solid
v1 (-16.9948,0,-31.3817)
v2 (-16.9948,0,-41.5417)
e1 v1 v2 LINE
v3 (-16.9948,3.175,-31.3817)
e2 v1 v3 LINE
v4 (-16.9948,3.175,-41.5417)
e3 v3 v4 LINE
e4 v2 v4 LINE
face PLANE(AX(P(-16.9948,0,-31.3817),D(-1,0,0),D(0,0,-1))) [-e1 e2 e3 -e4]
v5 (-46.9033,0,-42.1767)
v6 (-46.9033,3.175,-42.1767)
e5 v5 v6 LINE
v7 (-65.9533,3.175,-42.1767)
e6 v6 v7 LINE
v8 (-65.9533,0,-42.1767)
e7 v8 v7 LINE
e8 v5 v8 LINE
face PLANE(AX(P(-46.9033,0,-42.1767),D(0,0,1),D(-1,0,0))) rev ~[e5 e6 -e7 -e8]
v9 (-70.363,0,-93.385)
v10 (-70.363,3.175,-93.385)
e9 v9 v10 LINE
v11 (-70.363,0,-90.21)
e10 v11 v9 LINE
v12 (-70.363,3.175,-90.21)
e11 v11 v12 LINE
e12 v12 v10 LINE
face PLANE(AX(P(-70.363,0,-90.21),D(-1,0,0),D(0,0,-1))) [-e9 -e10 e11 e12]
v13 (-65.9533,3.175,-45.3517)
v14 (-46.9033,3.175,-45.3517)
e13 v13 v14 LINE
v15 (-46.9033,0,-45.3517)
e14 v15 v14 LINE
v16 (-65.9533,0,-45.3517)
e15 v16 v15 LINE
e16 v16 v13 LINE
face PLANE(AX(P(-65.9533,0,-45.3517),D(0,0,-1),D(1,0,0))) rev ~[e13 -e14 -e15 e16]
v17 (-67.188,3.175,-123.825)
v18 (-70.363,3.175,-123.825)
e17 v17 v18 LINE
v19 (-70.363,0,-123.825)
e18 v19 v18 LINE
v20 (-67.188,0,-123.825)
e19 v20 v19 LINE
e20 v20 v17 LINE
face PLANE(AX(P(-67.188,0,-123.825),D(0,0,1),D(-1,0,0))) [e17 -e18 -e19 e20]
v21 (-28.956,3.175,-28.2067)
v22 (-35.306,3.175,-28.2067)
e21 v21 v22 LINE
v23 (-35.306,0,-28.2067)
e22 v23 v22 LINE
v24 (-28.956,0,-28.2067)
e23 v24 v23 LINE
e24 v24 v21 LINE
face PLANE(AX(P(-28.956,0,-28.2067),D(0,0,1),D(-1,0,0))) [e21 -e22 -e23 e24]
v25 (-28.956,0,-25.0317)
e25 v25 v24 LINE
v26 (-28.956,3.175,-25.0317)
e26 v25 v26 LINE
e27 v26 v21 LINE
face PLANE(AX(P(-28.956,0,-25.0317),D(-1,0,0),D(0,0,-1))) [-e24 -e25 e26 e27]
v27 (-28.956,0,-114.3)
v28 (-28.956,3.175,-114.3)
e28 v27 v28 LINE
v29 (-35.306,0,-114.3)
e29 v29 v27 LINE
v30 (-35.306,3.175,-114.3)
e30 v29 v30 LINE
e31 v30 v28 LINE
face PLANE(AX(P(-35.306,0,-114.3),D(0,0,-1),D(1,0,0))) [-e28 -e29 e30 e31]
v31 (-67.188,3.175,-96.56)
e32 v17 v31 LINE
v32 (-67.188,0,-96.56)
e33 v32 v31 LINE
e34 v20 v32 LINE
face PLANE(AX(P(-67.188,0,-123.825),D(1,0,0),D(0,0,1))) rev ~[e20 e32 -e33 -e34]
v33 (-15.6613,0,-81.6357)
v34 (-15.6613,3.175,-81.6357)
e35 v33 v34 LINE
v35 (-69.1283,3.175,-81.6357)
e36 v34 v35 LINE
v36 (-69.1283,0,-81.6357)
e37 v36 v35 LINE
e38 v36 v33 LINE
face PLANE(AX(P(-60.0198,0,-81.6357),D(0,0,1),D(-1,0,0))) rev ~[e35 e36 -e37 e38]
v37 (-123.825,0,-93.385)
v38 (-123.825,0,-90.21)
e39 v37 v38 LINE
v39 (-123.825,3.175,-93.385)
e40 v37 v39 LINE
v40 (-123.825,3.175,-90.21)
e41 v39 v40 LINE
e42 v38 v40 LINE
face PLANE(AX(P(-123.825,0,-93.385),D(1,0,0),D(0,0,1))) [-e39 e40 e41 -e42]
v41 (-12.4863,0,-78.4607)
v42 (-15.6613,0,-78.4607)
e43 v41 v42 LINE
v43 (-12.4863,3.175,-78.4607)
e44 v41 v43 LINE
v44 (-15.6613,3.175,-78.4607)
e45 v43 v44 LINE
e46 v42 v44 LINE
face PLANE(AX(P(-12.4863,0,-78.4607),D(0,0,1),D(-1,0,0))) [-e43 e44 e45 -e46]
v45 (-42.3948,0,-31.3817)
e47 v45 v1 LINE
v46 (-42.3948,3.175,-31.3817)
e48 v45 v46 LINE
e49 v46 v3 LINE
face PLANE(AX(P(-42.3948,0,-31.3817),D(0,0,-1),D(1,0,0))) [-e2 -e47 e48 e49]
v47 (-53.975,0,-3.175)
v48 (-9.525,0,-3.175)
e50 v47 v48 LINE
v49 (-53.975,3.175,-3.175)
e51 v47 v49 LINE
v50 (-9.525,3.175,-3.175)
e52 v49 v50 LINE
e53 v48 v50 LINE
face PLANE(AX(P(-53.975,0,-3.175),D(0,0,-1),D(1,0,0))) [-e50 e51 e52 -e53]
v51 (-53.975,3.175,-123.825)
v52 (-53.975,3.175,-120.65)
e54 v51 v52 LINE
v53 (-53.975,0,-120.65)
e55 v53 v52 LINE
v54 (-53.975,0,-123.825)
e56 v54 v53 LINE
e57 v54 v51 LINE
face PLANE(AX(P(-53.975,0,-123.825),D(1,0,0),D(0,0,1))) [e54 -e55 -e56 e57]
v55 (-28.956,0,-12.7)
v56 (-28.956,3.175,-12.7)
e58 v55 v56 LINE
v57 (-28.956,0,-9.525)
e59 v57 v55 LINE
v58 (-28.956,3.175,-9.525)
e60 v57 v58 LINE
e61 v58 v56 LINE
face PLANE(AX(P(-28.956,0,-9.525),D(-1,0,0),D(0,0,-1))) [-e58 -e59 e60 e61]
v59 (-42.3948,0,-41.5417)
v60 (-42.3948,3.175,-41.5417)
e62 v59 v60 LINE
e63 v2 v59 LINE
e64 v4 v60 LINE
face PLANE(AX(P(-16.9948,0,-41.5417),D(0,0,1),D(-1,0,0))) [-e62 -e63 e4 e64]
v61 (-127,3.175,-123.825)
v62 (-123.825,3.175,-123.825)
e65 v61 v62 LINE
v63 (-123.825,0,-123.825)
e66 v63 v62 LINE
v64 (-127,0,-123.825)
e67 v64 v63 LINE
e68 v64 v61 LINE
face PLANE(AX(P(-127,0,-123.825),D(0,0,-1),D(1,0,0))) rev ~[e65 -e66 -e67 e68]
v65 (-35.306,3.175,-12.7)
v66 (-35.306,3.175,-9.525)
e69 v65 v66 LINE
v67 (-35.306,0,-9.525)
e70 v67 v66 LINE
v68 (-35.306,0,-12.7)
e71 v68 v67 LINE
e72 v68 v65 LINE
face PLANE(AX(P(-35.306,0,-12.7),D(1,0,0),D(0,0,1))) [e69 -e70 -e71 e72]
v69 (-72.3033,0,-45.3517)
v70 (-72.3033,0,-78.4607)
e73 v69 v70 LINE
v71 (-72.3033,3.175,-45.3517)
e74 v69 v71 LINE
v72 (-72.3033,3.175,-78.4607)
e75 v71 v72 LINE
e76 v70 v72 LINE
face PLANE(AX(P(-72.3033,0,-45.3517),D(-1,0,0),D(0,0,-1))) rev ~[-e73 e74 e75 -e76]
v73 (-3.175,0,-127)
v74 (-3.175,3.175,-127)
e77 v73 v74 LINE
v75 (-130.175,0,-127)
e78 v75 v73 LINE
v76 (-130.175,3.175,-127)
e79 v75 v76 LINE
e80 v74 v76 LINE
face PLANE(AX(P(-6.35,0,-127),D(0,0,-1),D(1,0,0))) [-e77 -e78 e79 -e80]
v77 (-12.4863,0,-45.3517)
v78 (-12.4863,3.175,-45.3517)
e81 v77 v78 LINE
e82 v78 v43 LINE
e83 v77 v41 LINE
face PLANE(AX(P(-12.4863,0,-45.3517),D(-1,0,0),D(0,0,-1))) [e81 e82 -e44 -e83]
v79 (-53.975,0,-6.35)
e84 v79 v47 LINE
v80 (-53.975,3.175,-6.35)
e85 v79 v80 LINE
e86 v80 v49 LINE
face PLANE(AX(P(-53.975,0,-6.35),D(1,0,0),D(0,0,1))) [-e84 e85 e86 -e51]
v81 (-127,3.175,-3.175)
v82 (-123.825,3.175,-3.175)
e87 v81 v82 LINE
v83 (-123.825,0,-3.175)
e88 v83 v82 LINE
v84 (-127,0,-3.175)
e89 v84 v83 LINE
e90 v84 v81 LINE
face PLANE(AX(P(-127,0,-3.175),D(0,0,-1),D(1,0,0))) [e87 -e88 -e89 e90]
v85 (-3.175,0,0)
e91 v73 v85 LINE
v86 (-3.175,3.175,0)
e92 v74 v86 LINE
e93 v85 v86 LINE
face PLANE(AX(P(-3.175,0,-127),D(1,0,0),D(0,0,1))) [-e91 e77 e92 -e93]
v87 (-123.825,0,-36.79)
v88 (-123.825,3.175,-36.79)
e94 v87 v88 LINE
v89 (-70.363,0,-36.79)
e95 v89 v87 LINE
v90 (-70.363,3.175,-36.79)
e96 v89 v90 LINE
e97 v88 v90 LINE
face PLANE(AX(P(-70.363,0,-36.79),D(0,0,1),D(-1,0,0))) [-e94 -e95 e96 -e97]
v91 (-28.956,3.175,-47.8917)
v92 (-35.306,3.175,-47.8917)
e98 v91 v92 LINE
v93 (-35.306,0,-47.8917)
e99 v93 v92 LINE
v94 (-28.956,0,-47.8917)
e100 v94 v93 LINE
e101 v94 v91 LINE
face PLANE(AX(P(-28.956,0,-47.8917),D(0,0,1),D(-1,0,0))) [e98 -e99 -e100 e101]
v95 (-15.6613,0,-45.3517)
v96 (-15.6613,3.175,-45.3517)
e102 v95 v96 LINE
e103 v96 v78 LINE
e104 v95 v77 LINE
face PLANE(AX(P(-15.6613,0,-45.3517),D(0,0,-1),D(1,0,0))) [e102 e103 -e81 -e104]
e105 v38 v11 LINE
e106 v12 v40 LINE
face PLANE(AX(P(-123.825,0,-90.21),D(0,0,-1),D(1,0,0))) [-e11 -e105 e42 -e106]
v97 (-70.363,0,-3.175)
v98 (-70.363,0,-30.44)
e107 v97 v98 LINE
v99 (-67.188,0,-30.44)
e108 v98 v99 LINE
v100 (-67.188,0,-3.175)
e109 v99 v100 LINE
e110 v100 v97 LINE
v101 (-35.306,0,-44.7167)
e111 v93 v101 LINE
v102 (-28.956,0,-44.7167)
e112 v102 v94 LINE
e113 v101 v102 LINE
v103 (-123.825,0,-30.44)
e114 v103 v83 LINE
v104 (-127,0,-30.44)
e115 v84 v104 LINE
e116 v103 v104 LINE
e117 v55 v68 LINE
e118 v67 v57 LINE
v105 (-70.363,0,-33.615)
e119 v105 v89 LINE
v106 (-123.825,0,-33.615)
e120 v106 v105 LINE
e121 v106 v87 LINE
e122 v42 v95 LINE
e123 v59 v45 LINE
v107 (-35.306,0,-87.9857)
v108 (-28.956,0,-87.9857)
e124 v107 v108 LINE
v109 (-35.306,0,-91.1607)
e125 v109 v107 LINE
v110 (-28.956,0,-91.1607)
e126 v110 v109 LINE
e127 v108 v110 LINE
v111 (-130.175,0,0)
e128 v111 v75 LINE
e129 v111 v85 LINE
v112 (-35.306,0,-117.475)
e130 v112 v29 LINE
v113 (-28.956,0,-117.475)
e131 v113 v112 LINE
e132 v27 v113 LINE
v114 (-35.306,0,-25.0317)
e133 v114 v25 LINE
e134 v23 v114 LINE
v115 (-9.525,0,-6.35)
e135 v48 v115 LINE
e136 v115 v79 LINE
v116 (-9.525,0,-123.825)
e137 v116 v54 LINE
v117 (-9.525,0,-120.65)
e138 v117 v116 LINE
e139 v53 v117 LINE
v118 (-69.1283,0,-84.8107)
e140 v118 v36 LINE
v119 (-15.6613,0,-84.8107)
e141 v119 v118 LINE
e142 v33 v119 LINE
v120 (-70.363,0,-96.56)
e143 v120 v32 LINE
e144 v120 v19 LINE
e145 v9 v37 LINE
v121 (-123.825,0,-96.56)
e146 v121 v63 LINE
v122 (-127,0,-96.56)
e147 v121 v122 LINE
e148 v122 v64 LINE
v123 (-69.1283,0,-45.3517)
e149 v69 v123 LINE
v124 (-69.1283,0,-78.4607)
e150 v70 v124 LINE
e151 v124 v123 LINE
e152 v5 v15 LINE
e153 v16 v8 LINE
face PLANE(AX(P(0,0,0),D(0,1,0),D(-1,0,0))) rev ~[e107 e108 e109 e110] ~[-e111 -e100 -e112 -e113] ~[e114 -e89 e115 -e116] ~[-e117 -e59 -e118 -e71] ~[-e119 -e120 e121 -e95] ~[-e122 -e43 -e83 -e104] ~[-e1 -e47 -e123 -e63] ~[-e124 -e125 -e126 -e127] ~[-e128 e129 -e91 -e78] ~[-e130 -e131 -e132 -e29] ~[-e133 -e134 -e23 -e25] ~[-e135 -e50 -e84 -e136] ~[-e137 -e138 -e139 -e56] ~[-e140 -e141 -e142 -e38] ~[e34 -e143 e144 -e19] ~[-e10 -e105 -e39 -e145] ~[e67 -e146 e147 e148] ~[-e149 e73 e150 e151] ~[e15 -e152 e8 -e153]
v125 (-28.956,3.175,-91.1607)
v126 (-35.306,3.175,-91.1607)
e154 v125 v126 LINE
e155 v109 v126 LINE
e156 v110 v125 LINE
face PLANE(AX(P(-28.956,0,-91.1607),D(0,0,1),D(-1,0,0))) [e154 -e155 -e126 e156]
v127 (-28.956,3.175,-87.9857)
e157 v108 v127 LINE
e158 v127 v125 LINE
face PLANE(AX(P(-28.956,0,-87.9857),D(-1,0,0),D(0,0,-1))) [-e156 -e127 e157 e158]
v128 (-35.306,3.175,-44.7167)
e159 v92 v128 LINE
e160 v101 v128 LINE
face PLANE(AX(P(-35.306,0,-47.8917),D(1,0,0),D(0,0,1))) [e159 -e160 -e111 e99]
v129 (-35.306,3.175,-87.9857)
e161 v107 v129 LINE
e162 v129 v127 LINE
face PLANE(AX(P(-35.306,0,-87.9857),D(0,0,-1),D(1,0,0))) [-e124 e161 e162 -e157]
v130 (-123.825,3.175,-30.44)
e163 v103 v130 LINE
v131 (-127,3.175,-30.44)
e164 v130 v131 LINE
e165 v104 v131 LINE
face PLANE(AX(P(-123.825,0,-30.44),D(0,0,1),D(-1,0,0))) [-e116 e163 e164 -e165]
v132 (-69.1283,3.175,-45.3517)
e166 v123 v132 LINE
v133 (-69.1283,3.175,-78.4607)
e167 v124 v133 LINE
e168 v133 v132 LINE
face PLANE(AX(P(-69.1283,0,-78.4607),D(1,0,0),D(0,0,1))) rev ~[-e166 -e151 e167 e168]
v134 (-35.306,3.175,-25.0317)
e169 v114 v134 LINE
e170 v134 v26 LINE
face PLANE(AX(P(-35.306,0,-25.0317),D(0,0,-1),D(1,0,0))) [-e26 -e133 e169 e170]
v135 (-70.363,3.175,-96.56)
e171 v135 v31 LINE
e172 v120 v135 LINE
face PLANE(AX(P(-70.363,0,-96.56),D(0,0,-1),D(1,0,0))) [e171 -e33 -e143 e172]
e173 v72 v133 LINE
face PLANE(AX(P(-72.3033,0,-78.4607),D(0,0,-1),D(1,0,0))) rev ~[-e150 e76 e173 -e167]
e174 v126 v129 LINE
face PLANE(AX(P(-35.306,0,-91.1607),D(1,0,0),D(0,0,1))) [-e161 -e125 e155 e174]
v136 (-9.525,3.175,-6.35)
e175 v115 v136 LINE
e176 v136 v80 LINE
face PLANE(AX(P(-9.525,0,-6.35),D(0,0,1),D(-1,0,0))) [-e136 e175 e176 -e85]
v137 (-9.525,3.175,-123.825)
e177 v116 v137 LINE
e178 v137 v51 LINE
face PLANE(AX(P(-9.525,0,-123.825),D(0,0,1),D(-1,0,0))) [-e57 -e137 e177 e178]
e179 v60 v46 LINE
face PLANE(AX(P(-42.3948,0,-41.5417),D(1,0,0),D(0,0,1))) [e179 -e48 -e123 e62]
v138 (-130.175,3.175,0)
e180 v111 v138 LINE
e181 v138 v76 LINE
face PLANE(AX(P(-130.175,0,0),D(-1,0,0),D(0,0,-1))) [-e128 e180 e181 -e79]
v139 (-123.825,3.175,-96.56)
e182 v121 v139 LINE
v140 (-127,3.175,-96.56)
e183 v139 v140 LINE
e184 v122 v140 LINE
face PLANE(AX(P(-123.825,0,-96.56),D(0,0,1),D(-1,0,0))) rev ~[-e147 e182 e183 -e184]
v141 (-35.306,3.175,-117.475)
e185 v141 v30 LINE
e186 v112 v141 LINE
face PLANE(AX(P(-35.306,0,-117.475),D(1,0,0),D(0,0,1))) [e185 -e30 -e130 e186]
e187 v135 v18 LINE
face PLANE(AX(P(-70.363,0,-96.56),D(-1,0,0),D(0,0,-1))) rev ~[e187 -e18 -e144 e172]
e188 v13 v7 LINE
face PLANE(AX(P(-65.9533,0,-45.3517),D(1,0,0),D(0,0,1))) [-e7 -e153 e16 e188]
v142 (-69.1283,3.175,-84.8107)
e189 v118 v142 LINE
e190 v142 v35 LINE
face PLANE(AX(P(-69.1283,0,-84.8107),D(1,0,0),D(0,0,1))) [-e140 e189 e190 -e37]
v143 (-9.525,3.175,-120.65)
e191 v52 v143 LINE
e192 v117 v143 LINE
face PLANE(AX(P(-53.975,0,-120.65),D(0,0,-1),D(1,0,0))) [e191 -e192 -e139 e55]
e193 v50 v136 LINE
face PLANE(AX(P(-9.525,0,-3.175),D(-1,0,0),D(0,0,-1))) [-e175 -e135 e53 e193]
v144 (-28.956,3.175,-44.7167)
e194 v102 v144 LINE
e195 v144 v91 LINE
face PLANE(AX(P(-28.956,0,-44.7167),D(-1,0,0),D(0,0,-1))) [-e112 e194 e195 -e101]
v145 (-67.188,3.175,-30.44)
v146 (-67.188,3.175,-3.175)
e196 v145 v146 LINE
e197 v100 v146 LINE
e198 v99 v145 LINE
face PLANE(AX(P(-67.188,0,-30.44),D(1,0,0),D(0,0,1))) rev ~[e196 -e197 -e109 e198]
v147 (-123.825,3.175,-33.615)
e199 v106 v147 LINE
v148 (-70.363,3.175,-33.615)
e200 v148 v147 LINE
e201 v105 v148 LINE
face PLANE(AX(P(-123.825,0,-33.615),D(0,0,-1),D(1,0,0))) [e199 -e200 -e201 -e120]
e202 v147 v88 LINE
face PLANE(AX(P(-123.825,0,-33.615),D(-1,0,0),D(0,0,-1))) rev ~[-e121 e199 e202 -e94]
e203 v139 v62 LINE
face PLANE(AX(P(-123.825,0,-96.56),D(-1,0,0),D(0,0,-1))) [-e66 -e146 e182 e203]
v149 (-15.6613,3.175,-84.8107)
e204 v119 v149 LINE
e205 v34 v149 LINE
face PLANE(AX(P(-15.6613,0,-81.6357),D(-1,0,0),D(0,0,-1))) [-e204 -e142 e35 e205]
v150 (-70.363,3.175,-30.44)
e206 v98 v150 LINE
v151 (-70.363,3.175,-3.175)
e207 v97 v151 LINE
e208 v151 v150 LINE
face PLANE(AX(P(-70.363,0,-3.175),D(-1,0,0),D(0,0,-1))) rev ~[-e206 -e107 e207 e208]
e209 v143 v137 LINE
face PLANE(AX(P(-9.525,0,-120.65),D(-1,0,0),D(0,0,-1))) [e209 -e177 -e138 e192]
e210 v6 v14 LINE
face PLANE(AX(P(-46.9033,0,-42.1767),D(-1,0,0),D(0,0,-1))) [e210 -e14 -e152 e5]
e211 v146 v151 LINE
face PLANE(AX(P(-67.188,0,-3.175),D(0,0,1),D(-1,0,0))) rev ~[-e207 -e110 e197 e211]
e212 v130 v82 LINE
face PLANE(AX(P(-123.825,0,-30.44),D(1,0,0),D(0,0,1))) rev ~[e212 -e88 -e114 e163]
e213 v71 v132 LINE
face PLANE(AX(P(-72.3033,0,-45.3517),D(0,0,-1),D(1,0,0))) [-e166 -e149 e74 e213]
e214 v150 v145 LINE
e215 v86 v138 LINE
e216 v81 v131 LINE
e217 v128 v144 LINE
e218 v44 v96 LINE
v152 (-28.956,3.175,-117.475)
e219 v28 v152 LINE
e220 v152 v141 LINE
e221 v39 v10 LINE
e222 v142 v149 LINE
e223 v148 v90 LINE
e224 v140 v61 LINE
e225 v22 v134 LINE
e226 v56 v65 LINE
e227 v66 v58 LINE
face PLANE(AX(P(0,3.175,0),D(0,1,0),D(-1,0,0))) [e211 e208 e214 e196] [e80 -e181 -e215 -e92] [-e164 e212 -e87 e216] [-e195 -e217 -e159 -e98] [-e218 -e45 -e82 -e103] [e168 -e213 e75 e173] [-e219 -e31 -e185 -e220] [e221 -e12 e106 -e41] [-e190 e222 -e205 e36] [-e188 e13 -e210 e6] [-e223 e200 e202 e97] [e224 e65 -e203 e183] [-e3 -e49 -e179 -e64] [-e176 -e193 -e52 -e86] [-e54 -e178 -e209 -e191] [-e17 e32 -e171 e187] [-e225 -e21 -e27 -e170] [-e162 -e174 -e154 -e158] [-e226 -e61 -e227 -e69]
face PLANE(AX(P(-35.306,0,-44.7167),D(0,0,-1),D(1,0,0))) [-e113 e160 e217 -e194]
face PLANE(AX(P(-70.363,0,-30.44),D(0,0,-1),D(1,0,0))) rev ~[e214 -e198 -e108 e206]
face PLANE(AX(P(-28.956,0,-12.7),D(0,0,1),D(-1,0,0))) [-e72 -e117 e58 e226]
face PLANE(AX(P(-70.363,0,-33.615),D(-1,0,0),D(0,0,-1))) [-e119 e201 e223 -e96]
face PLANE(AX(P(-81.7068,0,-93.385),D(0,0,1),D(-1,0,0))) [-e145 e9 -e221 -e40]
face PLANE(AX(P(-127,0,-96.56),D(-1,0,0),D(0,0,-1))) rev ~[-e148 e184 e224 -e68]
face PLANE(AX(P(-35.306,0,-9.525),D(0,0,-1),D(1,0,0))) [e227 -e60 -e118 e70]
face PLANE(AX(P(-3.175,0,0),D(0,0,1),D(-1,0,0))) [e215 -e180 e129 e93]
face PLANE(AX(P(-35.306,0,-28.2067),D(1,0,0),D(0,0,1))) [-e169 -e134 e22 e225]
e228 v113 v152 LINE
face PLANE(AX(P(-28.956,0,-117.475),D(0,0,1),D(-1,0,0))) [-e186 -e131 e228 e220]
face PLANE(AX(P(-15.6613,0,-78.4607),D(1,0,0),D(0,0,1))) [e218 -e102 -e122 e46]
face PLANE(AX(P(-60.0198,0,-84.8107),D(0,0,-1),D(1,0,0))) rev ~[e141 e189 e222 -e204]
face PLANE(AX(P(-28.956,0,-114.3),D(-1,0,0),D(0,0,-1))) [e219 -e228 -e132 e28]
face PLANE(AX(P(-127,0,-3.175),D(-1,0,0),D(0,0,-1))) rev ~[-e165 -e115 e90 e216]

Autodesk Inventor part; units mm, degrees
ref_plane "YZ Plane" through (0, 0, 0) normal (1, 0, 0) x (0, 1, 0)
ref_plane "XZ Plane" through (0, 0, 0) normal (0, 1, 0) x (-1, 0, 0)
ref_plane "XY Plane" through (0, 0, 0) normal (0, 0, 1) x (1, 0, 0)
sketch "Sketch1" plane through (0, 0, 0) normal (0, 1, 0) x (-1, 0, 0)
  line L0 (0, 0) -> (127, 0)
  line L1 (127, 0) -> (127, -127)
  line L2 (127, -127) -> (0, -127)
  line L3 (0, -127) -> (0, 0)
  line L4 (123.825, 0) -> (127, 0)
  line L5 (127, 0) -> (127, -33.615)
  line L6 (127, -33.615) -> (123.825, -33.615)
  line L7 (123.825, -33.615) -> (123.825, 0)
  line L8 (123.825, -33.615) -> (70.363, -33.615)
  line L9 (70.363, -33.615) -> (70.363, -36.79)
  line L10 (70.363, -36.79) -> (127, -36.79)
  line L11 (70.363, -36.79) -> (67.188, -36.79)
  line L12 (67.188, -36.79) -> (67.188, 0)
  line L13 (67.188, 0) -> (70.363, 0)
  line L14 (70.363, 0) -> (70.363, -36.79)
  line L15 (69.1283, -45.3517) -> (43.7283, -45.3517)
  line L16 (43.7283, -45.3517) -> (43.7283, -42.1767)
  line L17 (43.7283, -42.1767) -> (69.1283, -42.1767)
  line L18 (69.1283, -42.1767) -> (69.1283, -45.3517)
  line L19 (69.1283, -42.1767) -> (72.3033, -42.1767)
  line L20 (72.3033, -42.1767) -> (72.3033, -84.8107)
  line L21 (72.3033, -84.8107) -> (69.1283, -84.8107)
  line L22 (69.1283, -84.8107) -> (69.1283, -42.1767)
  line L23 (69.1283, -84.8107) -> (12.4863, -84.8107)
  line L24 (12.4863, -84.8107) -> (12.4863, -81.6357)
  line L25 (12.4863, -81.6357) -> (69.1283, -81.6357)
  line L26 (69.1283, -81.6357) -> (69.1283, -84.8107)
  line L27 (12.4863, -81.6357) -> (15.6613, -81.6357)
  line L28 (15.6613, -81.6357) -> (15.6613, -42.1767)
  line L29 (15.6613, -42.1767) -> (12.4863, -42.1767)
  line L30 (12.4863, -42.1767) -> (12.4863, -81.6357)
  line L31 (127, -90.21) -> (67.188, -90.21)
  line L32 (67.188, -90.21) -> (67.188, -93.385)
  line L33 (67.188, -93.385) -> (127, -93.385)
  line L34 (127, -93.385) -> (127, -90.21)
  line L35 (127, -93.385) -> (123.825, -93.385)
  line L36 (123.825, -93.385) -> (123.825, -127)
  line L37 (123.825, -127) -> (127, -127)
  line L38 (127, -127) -> (127, -93.385)
  line L39 (25.4, 0) -> (6.35, 0)
  line L40 (25.4, -127) -> (6.35, -127)
  line L41 (67.188, -90.21) -> (70.363, -90.21)
  line L42 (70.363, -90.21) -> (70.363, -127)
  line L43 (70.363, -127) -> (67.188, -127)
  line L44 (67.188, -127) -> (67.188, -90.21)
  line L45 (67.188, -3.175) -> (70.363, -3.175)
  line L46 (70.363, -3.175) -> (70.363, -33.615)
  line L47 (70.363, -33.615) -> (67.188, -33.615)
  line L48 (67.188, -33.615) -> (67.188, -3.175)
  line L49 (73.538, -33.615) -> (123.825, -33.615)
  line L50 (123.825, -33.615) -> (123.825, -36.79)
  line L51 (123.825, -36.79) -> (73.538, -36.79)
  line L52 (127, -3.175) -> (123.825, -3.175)
  line L53 (123.825, -3.175) -> (123.825, -30.44)
  line L54 (123.825, -30.44) -> (127, -30.44)
  line L55 (127, -30.44) -> (127, -3.175)
  line L56 (123.825, -90.21) -> (81.7068, -90.21)
  line L57 (81.7068, -93.385) -> (123.825, -93.385)
  line L58 (123.825, -93.385) -> (123.825, -90.21)
  line L59 (123.825, -96.56) -> (127, -96.56)
  line L60 (127, -96.56) -> (127, -123.825)
  line L61 (127, -123.825) -> (123.825, -123.825)
  line L62 (123.825, -123.825) -> (123.825, -96.56)
  line L63 (70.363, -96.56) -> (67.188, -96.56)
  line L64 (67.188, -96.56) -> (67.188, -123.825)
  line L65 (67.188, -123.825) -> (70.363, -123.825)
  line L66 (70.363, -123.825) -> (70.363, -96.56)
  line L67 (70.363, -30.44) -> (67.188, -30.44)
  line L68 (72.3033, -45.3517) -> (69.1283, -45.3517)
  line L69 (69.1283, -45.3517) -> (69.1283, -81.6357)
  line L70 (69.1283, -81.6357) -> (72.3033, -81.6357)
  line L71 (72.3033, -81.6357) -> (72.3033, -45.3517)
  line L72 (65.9533, -42.1767) -> (46.9033, -42.1767)
  line L73 (46.9033, -42.1767) -> (46.9033, -45.3517)
  line L74 (46.9033, -45.3517) -> (65.9533, -45.3517)
  line L75 (65.9533, -45.3517) -> (65.9533, -42.1767)
  line L76 (60.0198, -81.6357) -> (15.6613, -81.6357)
  line L77 (15.6613, -81.6357) -> (15.6613, -84.8107)
  line L78 (15.6613, -84.8107) -> (60.0198, -84.8107)
  line L79 (15.6613, -45.3517) -> (12.4863, -45.3517)
  line L80 (12.4863, -45.3517) -> (12.4863, -78.4607)
  line L81 (12.4863, -78.4607) -> (15.6613, -78.4607)
  line L82 (15.6613, -78.4607) -> (15.6613, -45.3517)
  line L83 (72.3033, -78.4607) -> (69.1283, -78.4607)
  line L84 (22.225, 0) -> (9.525, 0)
  line L85 (9.525, -127) -> (22.225, -127)
  line L86 (57.15, -3.175) -> (6.35, -3.175)
  line L87 (6.35, -3.175) -> (6.35, -6.35)
  line L88 (6.35, -6.35) -> (57.15, -6.35)
  line L89 (57.15, -6.35) -> (57.15, -3.175)
  line L90 (53.975, -3.175) -> (9.525, -3.175)
  line L91 (9.525, -3.175) -> (9.525, -6.35)
  line L92 (9.525, -6.35) -> (53.975, -6.35)
  line L93 (53.975, -6.35) -> (53.975, -3.175)
  line L94 (127, 0) -> (130.175, 0)
  line L95 (130.175, 0) -> (130.175, -127)
  line L96 (130.175, -127) -> (127, -127)
  line L97 (127, -127) -> (127, 0)
  line L98 (3.175, 0) -> (0, 0)
  line L99 (0, 0) -> (0, -127)
  line L100 (0, -127) -> (3.175, -127)
  line L101 (3.175, -127) -> (3.175, 0)
  line L102 (57.15, -120.65) -> (6.35, -120.65)
  line L103 (6.35, -120.65) -> (6.35, -123.825)
  line L104 (6.35, -123.825) -> (57.15, -123.825)
  line L105 (57.15, -123.825) -> (57.15, -120.65)
  line L106 (53.975, -120.65) -> (9.525, -120.65)
  line L107 (9.525, -120.65) -> (9.525, -123.825)
  line L108 (9.525, -123.825) -> (53.975, -123.825)
  line L109 (53.975, -123.825) -> (53.975, -120.65)
  line L110 (42.3948, -31.3817) -> (16.9948, -31.3817)
  line L111 (16.9948, -31.3817) -> (16.9948, -41.5417)
  line L112 (16.9948, -41.5417) -> (42.3948, -41.5417)
  line L113 (42.3948, -41.5417) -> (42.3948, -31.3817)
  line L114 (35.306, -9.525) -> (28.956, -9.525)
  line L115 (28.956, -9.525) -> (28.956, -12.7)
  line L116 (28.956, -12.7) -> (35.306, -12.7)
  line L117 (35.306, -12.7) -> (35.306, -9.525)
  line L118 (35.306, -25.0317) -> (28.956, -25.0317)
  line L119 (28.956, -25.0317) -> (28.956, -28.2067)
  line L120 (28.956, -28.2067) -> (35.306, -28.2067)
  line L121 (35.306, -28.2067) -> (35.306, -25.0317)
  line L122 (35.306, -44.7167) -> (28.956, -44.7167)
  line L123 (28.956, -44.7167) -> (28.956, -47.8917)
  line L124 (28.956, -47.8917) -> (35.306, -47.8917)
  line L125 (35.306, -47.8917) -> (35.306, -44.7167)
  line L126 (35.306, -87.9857) -> (28.956, -87.9857)
  line L127 (28.956, -87.9857) -> (28.956, -91.1607)
  line L128 (28.956, -91.1607) -> (35.306, -91.1607)
  line L129 (35.306, -91.1607) -> (35.306, -87.9857)
  line L130 (35.306, -114.3) -> (28.956, -114.3)
  line L131 (28.956, -114.3) -> (28.956, -117.475)
  line L132 (28.956, -117.475) -> (35.306, -117.475)
  line L133 (35.306, -117.475) -> (35.306, -114.3)
  point P0 (97.094, -33.615)
  point P1 (123.825, -110.1925)
  point P2 (123.825, -16.8075)
  point P3 (43.7283, -43.7642)
  point P4 (56.4283, -42.1767)
  point P5 (125.4125, 0)
  point P6 (125.4125, -3.175)
  point P7 (125.4125, -33.615)
  point P8 (70.363, -35.2025)
  point P9 (68.7755, -36.79)
  point P10 (68.7755, -33.615)
  point P11 (68.7755, 0)
  point P12 (68.7755, -3.175)
  point P13 (68.7755, -127)
  point P14 (68.7755, -123.825)
  point P15 (69.1283, -43.7642)
  point P16 (46.9033, -43.7642)
  point P17 (70.7158, -42.1767)
  point P18 (12.4863, -83.2232)
  point P19 (14.0738, -81.6357)
  point P20 (14.0738, -78.4607)
  point P21 (14.0738, -42.1767)
  point P22 (14.0738, -45.3517)
  point P23 (70.363, -93.385)
  point P24 (70.363, -30.44)
  point P25 (127, -96.56)
  point P26 (127, -30.44)
  point P27 (123.825, -33.615)
  point P28 (46.9033, -42.1767)
  point P29 (67.188, -96.56)
  point P30 (53.975, -4.7625)
  point P31 (53.975, -122.2375)
  point P32 (6.35, -122.2375)
  point P33 (15.875, -127)
  point P34 (127, -93.385)
  point P35 (53.975, -6.35)
  point P36 (32.131, -91.1607)
  dimension "d0" = 127
  dimension "d2" = 127
  dimension "d5" = 33.615
  dimension "d6" = 33.615
  dimension "d7" = 53.462
  dimension "d8" = 53.462
  dimension "d9" = 3.175
  dimension "d10" = 3.175
  dimension "d11" = 3.175
  dimension "d12" = 3.175
  dimension "d13" = 3.175
  dimension "d14" = 3.175
  dimension "d19" = 36.284
  dimension "d20" = 25.4
  dimension "d21" = 3.175
  dimension "d22" = 3.175
  dimension "d23" = 3.175
  dimension "d24" = 3.175
  dimension "d25" = 53.467
  dimension "d27" = 42.1767
  dimension "d28" = 3.175
  dimension "d29" = 3.175
  dimension "d30" = 3.175
  dimension "d32" = 3.175
  dimension "d33" = 3.175
  dimension "d34" = 3.175
  dimension "d35" = 3.175
  dimension "d36" = 3.175
  dimension "d37" = 3.175
  dimension "d38" = 3.175
  dimension "d39" = 3.175
  dimension "d40" = 3.175
  dimension "d41" = 3.175
  dimension "d42" = 3.175
  dimension "d43" = 3.175
  dimension "d44" = 3.175
  dimension "d45" = 3.175
  dimension "d46" = 3.175
  dimension "d51" = 3.175
  dimension "d52" = 3.175
  dimension "d53" = 3.175
  dimension "d54" = 50.8
  dimension "d55" = 3.175
  dimension "d56" = 6.35
  dimension "d57" = 3.175
  dimension "d58" = 3.175
  dimension "d59" = 3.175
  dimension "d60" = 3.175
  dimension "d61" = 3.175
  dimension "d62" = 50.8
  dimension "d63" = 6.35
  dimension "d64" = 3.175
  dimension "d65" = 9.3112
  dimension "d66" = 25.4
  dimension "d67" = 10.16
  dimension "d68" = 3.81
  dimension "d69" = 1.3335
  dimension "d70" = 6.35
  dimension "d71" = 3.175
  dimension "d72" = 3.175
  dimension "d73" = 6.35
  dimension "d74" = 3.175
  dimension "d75" = 3.175
  dimension "d76" = 6.35
extrude "Extrusion1" add sketch "Sketch1" along normal blind 3.175 contours L0 L12 L11 L10 L1 L31 L32 L44 L2 L101 | L0 L14 L45 L12 | L0 L7 L8 L14 | L44 L65 L42 L2 | L0 L1 L52 L7 | L67 L14 L47 L12 | L42 L33 L36 L2 | L94 L95 L96 L1 | L47 L9 L11 L12 | L36 L61 L1 L2 | L44 L33 L42 L63 | L54 L1 L6 L7 | L32 L31 L42 L33 | L6 L1 L10 L50 | L36 L33 L1 L59 | L58 L31 L1 L33 | L15 L75 L17 L18 | L18 L19 L20 L68 | L83 L20 L70 L22 | L15 L16 L17 L73 | L70 L20 L21 L22 | L77 L23 L24 L25 | L25 L30 L81 L28 | L79 L30 L29 L28 | L89 L88 L93 L86 | L91 L88 L87 L86 | L105 L104 L109 L102 | L107 L104 L103 L102
equation "\"d3\" = d41"
properties part number "top"
